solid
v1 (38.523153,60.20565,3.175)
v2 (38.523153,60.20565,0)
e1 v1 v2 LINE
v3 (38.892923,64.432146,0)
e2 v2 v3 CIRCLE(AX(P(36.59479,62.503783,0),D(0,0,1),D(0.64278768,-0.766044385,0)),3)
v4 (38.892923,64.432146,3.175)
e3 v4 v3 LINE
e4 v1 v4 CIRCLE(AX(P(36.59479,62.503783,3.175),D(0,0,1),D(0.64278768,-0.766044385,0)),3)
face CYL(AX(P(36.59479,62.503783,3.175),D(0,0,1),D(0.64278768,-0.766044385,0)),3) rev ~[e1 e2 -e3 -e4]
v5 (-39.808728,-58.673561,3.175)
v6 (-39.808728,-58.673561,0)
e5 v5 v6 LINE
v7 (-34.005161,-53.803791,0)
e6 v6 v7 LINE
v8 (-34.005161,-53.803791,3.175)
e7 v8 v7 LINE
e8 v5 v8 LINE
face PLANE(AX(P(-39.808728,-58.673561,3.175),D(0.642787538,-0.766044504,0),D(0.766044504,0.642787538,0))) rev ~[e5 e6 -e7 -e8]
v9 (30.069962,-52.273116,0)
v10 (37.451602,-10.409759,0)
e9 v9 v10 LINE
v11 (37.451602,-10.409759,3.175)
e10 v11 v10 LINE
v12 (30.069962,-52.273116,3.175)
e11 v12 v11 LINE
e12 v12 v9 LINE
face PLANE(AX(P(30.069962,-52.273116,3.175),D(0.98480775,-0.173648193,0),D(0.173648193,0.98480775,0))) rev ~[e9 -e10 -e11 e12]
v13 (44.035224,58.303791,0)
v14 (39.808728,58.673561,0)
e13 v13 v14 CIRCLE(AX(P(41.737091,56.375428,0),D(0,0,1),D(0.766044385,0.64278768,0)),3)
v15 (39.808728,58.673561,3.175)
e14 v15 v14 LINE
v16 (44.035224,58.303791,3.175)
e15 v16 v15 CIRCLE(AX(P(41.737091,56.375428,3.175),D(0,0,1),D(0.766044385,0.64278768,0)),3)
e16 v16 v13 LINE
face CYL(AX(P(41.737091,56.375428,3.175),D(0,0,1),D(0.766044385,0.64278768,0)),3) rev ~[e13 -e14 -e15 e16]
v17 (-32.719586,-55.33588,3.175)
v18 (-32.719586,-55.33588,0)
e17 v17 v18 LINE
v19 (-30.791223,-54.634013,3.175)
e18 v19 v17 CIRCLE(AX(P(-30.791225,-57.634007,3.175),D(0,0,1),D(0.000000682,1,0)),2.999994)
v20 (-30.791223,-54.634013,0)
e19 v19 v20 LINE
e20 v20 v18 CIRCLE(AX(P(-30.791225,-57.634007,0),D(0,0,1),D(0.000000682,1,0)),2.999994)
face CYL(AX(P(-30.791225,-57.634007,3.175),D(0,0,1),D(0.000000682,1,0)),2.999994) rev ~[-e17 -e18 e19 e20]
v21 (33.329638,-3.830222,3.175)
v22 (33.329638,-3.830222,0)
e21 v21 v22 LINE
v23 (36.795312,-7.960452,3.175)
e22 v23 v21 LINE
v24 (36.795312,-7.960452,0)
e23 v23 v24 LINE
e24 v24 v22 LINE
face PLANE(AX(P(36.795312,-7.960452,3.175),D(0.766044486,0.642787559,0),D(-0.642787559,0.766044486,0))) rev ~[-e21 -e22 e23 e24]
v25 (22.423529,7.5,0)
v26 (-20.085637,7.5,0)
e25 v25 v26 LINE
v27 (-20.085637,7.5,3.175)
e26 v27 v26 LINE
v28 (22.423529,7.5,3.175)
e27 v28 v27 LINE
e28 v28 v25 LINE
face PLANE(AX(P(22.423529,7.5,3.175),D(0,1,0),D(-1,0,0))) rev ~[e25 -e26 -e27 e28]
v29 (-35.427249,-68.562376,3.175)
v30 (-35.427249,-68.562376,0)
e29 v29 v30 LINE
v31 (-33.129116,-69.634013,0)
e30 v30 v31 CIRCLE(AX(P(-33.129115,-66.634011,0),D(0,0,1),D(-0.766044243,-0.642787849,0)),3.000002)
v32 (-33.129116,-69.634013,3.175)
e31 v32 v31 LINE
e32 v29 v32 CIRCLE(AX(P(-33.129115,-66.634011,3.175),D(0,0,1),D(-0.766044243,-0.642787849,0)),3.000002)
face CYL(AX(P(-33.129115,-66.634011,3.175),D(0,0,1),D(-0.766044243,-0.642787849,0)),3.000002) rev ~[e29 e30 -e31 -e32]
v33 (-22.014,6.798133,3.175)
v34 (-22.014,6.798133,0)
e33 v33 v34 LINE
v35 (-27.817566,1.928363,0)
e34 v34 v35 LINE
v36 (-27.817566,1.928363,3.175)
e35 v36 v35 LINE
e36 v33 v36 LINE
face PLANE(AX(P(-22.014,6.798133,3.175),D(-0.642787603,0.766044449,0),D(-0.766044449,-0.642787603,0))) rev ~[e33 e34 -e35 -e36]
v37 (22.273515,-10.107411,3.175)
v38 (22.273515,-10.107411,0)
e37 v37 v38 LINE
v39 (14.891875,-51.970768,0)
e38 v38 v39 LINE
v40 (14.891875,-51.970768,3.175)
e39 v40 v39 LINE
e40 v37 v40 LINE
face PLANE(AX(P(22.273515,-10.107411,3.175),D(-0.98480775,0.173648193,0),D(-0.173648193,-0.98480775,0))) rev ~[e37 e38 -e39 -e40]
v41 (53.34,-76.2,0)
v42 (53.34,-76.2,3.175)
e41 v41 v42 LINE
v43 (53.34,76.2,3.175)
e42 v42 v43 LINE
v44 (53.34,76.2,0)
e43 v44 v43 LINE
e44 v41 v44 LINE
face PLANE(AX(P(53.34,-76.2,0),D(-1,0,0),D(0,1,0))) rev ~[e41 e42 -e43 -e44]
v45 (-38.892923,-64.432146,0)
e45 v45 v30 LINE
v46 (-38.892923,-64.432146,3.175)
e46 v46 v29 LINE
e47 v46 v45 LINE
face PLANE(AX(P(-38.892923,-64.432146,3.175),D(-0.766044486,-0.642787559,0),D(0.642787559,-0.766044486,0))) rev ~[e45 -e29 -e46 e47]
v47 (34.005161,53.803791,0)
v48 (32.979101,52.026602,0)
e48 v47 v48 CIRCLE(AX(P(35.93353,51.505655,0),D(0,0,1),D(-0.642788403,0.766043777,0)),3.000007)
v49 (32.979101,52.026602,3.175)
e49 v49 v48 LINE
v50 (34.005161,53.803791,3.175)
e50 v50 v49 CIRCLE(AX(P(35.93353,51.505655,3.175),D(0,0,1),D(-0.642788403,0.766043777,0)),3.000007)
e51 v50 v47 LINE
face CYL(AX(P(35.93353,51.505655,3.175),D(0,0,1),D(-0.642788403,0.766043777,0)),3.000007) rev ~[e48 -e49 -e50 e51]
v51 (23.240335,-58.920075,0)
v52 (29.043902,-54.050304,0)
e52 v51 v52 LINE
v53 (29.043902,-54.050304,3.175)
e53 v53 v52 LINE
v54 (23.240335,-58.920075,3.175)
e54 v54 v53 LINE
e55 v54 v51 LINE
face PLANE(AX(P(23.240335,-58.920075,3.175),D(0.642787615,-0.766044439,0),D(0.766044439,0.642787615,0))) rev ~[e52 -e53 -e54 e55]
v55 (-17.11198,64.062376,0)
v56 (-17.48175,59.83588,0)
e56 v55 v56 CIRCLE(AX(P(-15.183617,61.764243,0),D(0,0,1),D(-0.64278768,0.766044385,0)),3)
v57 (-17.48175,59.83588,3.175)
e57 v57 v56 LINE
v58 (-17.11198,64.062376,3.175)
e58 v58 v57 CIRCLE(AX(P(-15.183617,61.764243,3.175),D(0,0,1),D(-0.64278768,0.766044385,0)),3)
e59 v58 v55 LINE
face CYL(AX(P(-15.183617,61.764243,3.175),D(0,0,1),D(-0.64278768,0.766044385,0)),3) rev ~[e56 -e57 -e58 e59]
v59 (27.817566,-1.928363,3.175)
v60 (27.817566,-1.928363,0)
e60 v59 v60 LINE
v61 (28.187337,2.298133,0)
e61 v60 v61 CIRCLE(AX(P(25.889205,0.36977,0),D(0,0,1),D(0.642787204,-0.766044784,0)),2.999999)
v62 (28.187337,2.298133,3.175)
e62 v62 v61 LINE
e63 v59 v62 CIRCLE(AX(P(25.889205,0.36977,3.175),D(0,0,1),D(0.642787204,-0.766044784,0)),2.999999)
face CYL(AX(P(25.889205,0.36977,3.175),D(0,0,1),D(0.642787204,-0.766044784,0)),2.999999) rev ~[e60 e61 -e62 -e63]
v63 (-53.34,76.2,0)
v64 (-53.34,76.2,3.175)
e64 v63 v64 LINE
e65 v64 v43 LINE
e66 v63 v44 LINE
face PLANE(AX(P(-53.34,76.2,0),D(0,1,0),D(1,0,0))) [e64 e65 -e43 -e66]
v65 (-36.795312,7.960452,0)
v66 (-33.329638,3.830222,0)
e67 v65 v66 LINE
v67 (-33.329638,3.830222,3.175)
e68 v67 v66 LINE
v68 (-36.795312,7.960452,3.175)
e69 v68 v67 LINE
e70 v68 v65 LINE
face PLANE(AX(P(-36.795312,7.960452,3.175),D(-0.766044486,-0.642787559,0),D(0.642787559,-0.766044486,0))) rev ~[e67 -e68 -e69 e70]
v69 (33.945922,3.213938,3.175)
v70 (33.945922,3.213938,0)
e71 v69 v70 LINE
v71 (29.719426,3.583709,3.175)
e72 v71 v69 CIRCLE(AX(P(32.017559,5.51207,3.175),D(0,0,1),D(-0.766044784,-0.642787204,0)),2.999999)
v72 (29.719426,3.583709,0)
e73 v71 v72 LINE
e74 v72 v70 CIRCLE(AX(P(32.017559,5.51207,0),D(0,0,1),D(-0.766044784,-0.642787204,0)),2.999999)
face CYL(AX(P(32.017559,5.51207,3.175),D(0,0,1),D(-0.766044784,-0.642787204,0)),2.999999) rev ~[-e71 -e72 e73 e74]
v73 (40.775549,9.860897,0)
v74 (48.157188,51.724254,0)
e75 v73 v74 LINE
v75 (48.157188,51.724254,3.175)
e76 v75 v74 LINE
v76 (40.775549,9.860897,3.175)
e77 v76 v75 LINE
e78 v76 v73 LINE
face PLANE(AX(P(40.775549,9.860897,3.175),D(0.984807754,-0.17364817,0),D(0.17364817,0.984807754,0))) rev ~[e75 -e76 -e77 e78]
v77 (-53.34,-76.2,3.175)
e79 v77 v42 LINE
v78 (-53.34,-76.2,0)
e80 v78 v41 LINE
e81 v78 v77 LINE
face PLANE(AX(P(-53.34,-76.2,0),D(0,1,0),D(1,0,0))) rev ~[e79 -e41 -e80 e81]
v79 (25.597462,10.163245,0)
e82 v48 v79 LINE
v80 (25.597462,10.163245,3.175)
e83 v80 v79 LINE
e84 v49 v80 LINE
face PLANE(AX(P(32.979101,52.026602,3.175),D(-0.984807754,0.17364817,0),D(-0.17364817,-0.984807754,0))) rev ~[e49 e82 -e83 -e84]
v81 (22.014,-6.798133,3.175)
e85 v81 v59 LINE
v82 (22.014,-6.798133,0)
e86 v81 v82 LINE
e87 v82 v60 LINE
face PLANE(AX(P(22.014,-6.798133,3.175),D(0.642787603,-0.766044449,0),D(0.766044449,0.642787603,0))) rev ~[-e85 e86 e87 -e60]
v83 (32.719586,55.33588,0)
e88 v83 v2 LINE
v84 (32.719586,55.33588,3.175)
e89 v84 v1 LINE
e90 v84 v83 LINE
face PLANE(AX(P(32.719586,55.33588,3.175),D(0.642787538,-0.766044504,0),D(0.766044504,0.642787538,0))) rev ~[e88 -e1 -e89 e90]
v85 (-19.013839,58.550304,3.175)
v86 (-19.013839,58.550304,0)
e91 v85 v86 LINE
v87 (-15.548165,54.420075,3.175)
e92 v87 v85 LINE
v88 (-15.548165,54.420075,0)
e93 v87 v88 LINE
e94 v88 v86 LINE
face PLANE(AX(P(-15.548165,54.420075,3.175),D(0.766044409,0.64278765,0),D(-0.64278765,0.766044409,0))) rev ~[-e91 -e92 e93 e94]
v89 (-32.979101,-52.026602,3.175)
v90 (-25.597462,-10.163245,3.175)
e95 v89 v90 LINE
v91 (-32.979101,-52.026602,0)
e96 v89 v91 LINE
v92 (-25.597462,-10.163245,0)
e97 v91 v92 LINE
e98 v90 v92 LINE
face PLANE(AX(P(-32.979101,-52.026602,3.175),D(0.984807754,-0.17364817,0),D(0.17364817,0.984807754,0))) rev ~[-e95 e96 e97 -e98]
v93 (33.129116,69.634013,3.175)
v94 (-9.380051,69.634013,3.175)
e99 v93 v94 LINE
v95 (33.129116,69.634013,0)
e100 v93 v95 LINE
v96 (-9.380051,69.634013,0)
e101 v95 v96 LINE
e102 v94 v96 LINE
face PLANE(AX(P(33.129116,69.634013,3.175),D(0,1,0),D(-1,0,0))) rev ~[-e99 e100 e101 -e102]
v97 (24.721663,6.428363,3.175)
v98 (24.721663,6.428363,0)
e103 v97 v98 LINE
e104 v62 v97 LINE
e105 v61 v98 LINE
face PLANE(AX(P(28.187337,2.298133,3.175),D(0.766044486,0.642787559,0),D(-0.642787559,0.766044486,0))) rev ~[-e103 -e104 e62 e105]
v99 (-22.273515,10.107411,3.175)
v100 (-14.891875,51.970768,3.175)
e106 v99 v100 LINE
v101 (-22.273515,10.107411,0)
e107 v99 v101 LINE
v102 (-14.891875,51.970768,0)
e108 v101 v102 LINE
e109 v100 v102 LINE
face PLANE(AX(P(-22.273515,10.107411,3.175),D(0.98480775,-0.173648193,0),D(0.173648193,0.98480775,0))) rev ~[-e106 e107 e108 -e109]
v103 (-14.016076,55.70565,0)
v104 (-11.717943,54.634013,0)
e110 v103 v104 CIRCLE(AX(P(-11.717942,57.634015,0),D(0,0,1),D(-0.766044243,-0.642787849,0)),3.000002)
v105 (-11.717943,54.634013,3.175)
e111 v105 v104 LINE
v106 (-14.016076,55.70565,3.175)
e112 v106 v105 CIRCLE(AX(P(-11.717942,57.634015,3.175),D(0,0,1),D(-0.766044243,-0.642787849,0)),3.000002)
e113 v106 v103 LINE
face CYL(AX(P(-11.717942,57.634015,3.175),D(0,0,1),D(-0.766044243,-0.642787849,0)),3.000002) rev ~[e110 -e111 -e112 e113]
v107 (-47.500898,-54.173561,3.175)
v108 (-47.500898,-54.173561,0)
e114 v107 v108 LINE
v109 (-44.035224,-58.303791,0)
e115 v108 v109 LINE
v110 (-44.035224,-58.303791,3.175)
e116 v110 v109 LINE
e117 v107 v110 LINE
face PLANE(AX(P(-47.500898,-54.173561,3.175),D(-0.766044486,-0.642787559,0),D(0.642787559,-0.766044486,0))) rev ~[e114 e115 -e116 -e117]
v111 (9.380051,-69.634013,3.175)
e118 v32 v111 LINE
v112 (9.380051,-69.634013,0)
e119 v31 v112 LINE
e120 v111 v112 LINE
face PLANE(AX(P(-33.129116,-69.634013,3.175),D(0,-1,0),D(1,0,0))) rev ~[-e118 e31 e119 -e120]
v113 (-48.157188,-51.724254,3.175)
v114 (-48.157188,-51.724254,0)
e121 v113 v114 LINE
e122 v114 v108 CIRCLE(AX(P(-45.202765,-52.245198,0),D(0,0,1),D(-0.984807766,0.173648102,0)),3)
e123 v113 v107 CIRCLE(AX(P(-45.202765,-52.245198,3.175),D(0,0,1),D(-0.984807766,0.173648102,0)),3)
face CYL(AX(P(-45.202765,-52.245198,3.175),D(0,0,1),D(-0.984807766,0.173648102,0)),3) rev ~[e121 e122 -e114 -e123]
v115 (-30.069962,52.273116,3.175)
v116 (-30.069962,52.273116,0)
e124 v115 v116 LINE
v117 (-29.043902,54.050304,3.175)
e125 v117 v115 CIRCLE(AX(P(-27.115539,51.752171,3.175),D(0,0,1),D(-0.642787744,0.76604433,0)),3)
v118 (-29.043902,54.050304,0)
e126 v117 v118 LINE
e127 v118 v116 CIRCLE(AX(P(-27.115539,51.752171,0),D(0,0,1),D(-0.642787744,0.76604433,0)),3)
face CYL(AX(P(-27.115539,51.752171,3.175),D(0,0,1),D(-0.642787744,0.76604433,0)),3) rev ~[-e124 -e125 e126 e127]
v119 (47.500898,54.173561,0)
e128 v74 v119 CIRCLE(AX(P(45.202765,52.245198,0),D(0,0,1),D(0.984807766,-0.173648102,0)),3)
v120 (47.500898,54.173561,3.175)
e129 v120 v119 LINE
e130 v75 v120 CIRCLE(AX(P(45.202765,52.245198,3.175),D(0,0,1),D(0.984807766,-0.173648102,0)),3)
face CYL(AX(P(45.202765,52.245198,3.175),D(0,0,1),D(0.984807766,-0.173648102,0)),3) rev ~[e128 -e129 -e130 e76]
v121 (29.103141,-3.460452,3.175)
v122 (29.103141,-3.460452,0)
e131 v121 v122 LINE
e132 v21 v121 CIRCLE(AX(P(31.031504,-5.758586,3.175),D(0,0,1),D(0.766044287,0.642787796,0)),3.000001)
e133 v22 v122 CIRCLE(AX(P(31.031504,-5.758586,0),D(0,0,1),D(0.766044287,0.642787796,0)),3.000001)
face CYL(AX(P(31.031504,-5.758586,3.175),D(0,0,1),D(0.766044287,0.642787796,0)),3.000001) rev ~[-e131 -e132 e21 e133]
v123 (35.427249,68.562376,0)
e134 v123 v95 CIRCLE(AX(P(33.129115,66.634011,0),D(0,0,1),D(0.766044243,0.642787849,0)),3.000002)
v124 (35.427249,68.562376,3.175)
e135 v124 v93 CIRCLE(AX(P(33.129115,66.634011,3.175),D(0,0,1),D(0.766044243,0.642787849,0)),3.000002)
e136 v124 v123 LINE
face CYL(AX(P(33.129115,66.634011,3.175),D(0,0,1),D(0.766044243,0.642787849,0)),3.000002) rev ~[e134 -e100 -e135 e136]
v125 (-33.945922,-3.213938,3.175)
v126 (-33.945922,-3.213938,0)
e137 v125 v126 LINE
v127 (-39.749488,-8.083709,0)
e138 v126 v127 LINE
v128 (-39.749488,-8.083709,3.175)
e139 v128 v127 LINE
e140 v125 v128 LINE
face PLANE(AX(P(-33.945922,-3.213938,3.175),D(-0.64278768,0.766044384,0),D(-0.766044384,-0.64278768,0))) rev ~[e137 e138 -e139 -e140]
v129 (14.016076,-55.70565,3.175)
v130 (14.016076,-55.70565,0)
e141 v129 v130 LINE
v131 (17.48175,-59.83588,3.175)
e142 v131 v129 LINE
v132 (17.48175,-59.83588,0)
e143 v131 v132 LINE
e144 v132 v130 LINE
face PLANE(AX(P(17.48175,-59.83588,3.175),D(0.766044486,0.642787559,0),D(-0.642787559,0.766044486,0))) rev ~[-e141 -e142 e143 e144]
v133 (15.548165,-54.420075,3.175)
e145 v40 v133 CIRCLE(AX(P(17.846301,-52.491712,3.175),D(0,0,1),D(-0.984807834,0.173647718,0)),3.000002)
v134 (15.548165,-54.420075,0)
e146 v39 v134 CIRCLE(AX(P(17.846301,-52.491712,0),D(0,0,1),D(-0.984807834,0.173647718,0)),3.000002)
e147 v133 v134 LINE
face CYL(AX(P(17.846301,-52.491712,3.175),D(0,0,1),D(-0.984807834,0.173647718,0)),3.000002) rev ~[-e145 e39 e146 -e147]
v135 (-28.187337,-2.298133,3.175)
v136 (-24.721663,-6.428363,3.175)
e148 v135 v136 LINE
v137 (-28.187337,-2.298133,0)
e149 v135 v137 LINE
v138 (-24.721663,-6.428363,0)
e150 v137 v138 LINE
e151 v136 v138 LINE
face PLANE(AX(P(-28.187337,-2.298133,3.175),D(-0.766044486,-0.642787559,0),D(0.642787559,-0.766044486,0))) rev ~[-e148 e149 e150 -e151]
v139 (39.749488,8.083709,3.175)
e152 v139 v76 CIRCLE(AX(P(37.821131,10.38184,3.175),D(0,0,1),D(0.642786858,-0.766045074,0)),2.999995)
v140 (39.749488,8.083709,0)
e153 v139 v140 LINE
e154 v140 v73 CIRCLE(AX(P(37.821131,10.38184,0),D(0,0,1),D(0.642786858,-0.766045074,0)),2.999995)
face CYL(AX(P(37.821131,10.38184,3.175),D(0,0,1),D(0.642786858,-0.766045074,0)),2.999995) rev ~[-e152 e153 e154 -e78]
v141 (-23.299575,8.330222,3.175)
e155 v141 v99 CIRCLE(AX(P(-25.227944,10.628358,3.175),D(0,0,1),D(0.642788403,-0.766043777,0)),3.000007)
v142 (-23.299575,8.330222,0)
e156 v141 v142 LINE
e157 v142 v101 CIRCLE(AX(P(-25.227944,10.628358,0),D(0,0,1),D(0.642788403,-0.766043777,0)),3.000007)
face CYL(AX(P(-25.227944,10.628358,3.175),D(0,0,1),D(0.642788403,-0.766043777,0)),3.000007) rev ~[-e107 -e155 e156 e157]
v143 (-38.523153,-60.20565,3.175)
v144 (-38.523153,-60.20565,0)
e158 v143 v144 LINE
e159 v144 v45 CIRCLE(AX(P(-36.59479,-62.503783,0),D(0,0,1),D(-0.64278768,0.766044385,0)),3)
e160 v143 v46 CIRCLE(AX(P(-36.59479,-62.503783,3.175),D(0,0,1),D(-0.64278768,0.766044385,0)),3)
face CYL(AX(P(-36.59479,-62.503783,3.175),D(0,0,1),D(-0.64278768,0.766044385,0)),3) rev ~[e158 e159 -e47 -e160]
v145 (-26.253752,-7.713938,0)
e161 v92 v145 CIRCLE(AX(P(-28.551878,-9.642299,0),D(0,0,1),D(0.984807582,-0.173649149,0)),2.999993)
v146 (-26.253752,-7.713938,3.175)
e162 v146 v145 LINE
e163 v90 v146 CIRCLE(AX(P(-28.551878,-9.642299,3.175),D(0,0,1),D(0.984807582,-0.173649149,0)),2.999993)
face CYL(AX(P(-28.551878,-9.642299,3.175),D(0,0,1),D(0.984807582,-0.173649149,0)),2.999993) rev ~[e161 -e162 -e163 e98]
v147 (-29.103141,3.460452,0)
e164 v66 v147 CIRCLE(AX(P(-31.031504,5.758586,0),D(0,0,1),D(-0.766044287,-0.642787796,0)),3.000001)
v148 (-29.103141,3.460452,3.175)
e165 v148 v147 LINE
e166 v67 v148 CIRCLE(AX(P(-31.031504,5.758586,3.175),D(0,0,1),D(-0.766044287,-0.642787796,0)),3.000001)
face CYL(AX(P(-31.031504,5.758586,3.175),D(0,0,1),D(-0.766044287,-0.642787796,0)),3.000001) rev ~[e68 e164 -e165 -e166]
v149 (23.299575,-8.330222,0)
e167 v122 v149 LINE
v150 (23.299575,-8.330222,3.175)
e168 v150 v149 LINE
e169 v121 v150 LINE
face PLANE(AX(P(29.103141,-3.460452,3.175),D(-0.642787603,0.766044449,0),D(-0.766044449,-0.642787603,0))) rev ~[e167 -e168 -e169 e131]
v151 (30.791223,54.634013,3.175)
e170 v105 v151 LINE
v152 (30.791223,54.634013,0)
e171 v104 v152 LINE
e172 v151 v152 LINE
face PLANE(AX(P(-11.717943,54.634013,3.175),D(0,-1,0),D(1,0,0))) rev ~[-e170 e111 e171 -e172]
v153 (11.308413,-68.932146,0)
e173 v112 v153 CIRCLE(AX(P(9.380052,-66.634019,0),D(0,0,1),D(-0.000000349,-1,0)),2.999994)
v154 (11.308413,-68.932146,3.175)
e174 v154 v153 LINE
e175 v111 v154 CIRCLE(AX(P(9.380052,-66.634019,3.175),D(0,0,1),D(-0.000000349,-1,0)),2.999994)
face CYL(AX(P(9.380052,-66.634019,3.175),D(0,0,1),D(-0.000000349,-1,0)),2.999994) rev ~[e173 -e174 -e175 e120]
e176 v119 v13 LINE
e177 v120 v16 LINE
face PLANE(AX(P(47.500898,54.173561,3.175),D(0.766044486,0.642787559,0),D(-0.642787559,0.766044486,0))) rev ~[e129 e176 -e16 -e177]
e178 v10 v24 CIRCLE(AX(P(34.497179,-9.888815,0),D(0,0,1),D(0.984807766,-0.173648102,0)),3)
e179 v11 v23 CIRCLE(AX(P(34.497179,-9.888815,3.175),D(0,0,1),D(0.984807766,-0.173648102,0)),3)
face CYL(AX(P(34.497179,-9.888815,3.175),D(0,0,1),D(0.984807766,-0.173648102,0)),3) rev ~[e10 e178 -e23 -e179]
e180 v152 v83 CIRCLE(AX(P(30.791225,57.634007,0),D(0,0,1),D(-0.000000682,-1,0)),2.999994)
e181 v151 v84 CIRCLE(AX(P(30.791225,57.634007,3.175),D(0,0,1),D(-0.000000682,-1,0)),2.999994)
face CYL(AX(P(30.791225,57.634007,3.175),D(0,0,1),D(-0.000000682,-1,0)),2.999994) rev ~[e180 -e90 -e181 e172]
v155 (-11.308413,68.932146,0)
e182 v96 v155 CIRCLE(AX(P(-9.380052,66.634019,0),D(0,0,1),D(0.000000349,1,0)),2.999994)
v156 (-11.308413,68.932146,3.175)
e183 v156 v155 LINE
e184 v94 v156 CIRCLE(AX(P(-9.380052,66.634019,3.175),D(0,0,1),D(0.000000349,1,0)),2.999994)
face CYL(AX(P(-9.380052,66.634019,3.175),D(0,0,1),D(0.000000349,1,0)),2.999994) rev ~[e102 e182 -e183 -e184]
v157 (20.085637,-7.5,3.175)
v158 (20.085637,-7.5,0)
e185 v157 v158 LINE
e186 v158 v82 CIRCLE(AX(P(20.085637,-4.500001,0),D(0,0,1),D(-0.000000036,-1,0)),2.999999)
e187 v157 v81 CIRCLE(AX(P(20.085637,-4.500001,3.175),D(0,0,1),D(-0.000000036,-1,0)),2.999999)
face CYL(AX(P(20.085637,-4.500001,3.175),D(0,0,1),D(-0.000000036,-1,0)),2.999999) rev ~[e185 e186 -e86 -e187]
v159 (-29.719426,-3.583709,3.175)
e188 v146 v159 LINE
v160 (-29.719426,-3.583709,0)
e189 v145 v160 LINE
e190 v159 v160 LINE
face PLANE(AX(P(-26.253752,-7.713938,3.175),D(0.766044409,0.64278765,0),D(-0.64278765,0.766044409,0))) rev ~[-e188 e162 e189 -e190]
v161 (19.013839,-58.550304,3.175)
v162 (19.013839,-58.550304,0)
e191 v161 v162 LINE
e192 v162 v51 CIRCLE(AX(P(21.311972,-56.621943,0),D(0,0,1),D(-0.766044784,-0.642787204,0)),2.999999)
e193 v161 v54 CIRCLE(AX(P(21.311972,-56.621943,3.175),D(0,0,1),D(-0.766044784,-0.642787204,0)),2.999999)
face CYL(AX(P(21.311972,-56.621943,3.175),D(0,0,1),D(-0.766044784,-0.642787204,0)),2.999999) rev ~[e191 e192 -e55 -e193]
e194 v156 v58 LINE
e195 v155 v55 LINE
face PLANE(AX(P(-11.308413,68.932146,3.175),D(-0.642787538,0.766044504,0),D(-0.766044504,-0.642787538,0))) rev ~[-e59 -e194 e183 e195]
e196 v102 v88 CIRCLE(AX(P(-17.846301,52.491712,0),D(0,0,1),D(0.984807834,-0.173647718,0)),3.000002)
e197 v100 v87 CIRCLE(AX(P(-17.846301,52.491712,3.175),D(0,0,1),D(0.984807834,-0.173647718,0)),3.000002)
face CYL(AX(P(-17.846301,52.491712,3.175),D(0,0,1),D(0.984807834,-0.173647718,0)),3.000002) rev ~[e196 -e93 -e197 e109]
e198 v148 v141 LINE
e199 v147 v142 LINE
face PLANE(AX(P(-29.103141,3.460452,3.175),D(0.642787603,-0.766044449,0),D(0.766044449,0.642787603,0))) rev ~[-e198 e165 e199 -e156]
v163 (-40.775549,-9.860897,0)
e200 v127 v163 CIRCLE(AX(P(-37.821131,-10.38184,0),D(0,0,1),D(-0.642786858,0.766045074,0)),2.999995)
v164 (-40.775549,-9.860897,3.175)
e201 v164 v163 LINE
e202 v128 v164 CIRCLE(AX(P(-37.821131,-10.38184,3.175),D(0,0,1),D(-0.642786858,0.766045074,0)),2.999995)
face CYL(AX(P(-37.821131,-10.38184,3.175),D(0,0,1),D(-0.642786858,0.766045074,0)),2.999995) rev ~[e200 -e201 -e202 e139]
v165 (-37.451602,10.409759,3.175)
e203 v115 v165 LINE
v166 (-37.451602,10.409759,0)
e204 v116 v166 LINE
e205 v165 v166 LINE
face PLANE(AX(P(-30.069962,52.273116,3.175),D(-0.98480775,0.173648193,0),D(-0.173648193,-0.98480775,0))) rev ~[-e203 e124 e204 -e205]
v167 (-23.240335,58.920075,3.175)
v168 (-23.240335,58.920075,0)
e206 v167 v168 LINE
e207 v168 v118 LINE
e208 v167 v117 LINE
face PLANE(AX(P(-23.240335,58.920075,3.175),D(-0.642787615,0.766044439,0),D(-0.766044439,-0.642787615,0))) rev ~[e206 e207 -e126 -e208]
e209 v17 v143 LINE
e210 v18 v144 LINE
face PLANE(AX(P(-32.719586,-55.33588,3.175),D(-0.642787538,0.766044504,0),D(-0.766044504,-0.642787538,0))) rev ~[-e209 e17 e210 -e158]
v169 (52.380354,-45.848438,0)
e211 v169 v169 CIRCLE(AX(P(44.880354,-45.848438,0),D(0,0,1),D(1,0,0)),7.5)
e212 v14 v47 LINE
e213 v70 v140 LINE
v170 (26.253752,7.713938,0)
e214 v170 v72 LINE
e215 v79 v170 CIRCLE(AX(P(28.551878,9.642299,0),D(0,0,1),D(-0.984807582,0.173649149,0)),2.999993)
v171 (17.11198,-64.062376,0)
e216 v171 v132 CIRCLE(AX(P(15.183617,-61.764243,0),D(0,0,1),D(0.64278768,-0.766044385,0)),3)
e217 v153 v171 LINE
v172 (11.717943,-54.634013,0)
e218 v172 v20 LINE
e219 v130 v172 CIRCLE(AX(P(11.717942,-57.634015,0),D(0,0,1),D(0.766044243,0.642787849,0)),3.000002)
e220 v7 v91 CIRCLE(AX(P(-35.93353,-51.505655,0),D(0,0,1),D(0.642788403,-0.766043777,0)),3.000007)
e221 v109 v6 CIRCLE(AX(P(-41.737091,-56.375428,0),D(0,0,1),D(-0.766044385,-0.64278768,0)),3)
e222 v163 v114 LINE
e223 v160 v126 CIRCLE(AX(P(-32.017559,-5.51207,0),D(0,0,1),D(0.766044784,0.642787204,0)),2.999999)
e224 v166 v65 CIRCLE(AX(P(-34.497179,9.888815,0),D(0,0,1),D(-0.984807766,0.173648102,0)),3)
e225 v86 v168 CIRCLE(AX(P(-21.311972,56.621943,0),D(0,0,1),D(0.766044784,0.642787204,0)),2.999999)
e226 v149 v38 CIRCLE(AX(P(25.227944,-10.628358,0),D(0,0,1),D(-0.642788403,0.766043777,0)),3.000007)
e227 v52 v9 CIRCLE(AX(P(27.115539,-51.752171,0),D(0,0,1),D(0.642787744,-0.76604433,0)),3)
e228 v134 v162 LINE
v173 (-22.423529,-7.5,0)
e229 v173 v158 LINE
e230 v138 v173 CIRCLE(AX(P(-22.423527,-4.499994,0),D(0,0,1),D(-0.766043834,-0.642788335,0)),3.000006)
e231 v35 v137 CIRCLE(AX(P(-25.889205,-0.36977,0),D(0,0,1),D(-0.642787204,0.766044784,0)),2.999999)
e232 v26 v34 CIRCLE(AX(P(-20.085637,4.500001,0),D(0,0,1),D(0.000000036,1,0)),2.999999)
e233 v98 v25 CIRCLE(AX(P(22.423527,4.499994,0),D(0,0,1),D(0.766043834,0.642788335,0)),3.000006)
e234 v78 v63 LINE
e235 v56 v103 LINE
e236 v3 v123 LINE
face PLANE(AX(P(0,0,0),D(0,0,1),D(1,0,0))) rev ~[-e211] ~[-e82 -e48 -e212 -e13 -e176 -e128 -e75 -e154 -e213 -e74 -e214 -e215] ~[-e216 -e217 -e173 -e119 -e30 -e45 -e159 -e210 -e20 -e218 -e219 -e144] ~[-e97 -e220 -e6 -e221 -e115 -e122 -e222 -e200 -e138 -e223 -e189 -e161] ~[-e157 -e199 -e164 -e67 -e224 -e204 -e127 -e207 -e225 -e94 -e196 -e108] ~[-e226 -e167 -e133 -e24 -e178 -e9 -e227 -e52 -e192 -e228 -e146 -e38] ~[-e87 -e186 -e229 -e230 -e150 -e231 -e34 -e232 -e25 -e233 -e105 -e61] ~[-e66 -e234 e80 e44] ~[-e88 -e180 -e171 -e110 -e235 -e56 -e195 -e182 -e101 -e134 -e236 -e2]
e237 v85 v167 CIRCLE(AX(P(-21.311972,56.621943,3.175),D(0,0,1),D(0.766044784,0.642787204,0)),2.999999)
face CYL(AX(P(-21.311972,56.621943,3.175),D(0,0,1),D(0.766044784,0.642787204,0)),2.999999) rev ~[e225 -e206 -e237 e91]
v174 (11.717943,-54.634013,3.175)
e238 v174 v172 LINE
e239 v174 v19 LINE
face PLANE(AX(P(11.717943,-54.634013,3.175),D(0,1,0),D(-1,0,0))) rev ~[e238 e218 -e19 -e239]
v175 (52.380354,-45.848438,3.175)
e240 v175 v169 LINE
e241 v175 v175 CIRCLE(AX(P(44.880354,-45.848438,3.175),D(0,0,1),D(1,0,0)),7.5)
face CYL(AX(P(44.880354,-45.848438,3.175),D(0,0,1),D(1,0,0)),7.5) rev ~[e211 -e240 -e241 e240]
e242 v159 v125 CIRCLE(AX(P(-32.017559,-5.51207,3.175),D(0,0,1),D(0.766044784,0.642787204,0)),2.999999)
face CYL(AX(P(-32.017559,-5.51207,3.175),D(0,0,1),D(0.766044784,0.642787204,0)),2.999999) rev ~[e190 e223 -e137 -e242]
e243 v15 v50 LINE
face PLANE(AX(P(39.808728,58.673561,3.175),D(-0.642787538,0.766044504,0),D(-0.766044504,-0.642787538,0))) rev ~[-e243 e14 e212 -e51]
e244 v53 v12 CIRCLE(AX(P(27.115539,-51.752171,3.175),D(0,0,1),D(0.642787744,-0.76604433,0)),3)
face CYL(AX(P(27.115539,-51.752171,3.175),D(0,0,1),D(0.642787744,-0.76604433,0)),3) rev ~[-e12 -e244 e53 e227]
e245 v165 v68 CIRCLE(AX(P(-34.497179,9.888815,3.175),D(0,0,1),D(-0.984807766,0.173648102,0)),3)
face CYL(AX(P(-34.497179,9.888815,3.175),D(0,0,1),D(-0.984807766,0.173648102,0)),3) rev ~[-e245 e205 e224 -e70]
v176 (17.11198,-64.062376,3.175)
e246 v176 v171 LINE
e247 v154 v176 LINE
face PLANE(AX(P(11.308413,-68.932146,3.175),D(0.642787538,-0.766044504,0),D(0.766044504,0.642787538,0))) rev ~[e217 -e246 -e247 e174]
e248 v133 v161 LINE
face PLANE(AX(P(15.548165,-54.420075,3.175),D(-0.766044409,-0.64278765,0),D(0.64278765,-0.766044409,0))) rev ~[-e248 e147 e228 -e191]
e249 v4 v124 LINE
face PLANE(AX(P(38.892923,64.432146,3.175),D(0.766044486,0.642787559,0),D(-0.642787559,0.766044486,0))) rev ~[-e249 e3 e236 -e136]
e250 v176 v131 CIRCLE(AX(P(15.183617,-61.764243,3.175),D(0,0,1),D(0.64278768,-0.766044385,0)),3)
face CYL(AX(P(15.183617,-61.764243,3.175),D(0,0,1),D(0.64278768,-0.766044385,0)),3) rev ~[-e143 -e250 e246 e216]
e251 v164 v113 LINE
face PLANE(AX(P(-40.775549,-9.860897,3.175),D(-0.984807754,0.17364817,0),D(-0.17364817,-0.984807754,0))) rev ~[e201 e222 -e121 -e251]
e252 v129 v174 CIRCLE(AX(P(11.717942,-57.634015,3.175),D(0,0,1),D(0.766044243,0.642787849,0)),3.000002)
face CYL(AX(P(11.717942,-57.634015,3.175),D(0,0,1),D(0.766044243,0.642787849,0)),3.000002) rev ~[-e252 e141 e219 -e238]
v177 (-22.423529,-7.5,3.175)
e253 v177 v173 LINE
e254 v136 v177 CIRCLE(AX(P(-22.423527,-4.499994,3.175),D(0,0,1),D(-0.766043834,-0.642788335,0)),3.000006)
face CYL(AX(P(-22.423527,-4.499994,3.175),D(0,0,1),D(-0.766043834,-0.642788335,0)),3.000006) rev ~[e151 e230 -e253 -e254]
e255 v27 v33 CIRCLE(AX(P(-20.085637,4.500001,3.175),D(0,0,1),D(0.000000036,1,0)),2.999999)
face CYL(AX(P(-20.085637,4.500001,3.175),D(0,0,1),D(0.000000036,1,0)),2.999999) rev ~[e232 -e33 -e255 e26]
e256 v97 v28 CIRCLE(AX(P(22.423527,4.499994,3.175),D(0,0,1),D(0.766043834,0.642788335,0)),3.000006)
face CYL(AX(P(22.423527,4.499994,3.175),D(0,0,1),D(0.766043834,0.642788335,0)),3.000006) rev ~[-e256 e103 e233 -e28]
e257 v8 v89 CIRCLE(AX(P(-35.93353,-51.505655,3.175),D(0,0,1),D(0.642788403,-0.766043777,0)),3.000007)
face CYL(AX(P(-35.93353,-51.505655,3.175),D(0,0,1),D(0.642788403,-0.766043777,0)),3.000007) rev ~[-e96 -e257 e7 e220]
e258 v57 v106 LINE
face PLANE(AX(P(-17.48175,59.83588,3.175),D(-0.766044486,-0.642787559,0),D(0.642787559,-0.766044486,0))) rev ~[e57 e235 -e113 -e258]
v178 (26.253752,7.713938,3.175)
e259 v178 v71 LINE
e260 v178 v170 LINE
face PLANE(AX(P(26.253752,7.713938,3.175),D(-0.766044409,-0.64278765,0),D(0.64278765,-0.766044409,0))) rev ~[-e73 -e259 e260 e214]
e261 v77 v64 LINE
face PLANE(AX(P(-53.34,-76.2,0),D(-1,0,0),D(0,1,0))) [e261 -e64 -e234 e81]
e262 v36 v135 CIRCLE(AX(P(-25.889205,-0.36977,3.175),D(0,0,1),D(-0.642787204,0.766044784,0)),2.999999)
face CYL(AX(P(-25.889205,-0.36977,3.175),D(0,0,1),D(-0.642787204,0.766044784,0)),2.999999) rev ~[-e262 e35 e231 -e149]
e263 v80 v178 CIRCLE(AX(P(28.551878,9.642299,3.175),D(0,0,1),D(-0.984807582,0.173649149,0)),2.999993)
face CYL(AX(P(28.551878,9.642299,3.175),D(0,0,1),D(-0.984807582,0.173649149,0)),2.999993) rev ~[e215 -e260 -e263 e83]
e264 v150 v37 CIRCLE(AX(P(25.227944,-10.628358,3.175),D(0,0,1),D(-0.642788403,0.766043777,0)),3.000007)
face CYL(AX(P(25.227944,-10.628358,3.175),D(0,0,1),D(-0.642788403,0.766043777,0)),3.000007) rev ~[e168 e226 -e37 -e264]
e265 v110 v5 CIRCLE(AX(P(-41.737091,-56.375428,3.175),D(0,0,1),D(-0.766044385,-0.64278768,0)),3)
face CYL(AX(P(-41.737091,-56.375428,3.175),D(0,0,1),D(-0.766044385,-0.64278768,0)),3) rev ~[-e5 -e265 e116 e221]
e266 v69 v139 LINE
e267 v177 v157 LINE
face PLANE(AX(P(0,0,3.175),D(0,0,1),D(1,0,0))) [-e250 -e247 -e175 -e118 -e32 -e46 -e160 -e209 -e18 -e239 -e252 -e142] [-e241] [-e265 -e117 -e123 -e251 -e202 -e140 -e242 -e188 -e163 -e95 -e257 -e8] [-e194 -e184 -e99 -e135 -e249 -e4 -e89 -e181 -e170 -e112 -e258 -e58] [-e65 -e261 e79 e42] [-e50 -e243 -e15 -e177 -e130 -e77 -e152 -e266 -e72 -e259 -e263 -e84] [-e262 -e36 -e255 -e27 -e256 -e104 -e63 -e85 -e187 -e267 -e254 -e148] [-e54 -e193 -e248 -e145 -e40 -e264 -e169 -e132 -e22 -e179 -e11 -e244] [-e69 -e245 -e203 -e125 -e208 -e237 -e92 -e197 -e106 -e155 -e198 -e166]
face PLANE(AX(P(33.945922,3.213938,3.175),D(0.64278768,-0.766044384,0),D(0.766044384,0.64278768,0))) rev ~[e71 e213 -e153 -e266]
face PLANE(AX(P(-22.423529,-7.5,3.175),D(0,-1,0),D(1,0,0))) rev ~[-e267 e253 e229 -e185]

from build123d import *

# Parameters (mm, degrees)
F0_W     = 106.68
F0_H     = 152.4
F1_DEPTH = 3.175
F2_R     = 7.5
F3_DEPTH = 3.176


with BuildPart() as f1:
    # F0 (on Top) → F1 (new body)
    with BuildSketch(Plane.XY):
        Rectangle(F0_W, F0_H)
    extrude(amount=F1_DEPTH)

    # F2 (on face) → F3 (cut, through all)
    with BuildSketch(Plane.XY.offset(3.175)):
        with BuildLine():
            Line((-32.719586, -55.33588), (-38.523153, -60.20565))
            ThreePointArc((-38.523153, -60.20565), (-39.583374, -62.242316), (-38.892923, -64.432146))
            Line((-38.892923, -64.432146), (-35.427249, -68.562376))
            ThreePointArc((-35.427249, -68.562376), (-34.396971, -69.352936), (-33.129116, -69.634013))
            Line((-33.129116, -69.634013), (9.380051, -69.634013))
            ThreePointArc((9.380051, -69.634013), (10.406111, -69.453091), (11.308413, -68.932146))
            Line((11.308413, -68.932146), (17.11198, -64.062376))
            ThreePointArc((17.11198, -64.062376), (18.172201, -62.02571), (17.48175, -59.83588))
            Line((17.48175, -59.83588), (14.016076, -55.70565))
            ThreePointArc((14.016076, -55.70565), (12.985798, -54.91509), (11.717943, -54.634013))
            Line((11.717943, -54.634013), (-30.791223, -54.634013))
            ThreePointArc((-30.791223, -54.634013), (-31.817284, -54.814935), (-32.719586, -55.33588))
        make_face()
        with BuildLine():
            ThreePointArc((-44.035224, -58.303791), (-41.998558, -59.364012), (-39.808728, -58.673561))
            Line((-39.808728, -58.673561), (-34.005161, -53.803791))
            ThreePointArc((-34.005161, -53.803791), (-33.335448, -53.005657), (-32.979101, -52.026602))
            Line((-32.979101, -52.026602), (-25.597462, -10.163245))
            ThreePointArc((-25.597462, -10.163245), (-25.654107, -8.865844), (-26.253752, -7.713938))
            Line((-26.253752, -7.713938), (-29.719426, -3.583709))
            ThreePointArc((-29.719426, -3.583709), (-31.756092, -2.523487), (-33.945922, -3.213938))
            Line((-33.945922, -3.213938), (-39.749488, -8.083709))
            ThreePointArc((-39.749488, -8.083709), (-40.419202, -8.881842), (-40.775549, -9.860897))
            Line((-40.775549, -9.860897), (-48.157188, -51.724254))
            ThreePointArc((-48.157188, -51.724254), (-48.100542, -53.021656), (-47.500898, -54.173561))
            Line((-47.500898, -54.173561), (-44.035224, -58.303791))
        make_face()
        with BuildLine():
            ThreePointArc((14.891875, -51.970768), (14.948521, -53.268169), (15.548165, -54.420075))
            Line((15.548165, -54.420075), (19.013839, -58.550304))
            ThreePointArc((19.013839, -58.550304), (21.050505, -59.610526), (23.240335, -58.920075))
            Line((23.240335, -58.920075), (29.043902, -54.050304))
            ThreePointArc((29.043902, -54.050304), (29.713615, -53.252171), (30.069962, -52.273116))
            Line((30.069962, -52.273116), (37.451602, -10.409759))
            ThreePointArc((37.451602, -10.409759), (37.394956, -9.112357), (36.795312, -7.960452))
            Line((36.795312, -7.960452), (33.329638, -3.830222))
            ThreePointArc((33.329638, -3.830222), (31.292972, -2.770001), (29.103141, -3.460452))
            Line((29.103141, -3.460452), (23.299575, -8.330222))
            ThreePointArc((23.299575, -8.330222), (22.629862, -9.128356), (22.273515, -10.107411))
            Line((22.273515, -10.107411), (14.891875, -51.970768))
        make_face()
        with BuildLine():
            ThreePointArc((-27.817566, 1.928363), (-28.877788, -0.108303), (-28.187337, -2.298133))
            Line((-28.187337, -2.298133), (-24.721663, -6.428363))
            ThreePointArc((-24.721663, -6.428363), (-23.691384, -7.218923), (-22.423529, -7.5))
            Line((-22.423529, -7.5), (20.085637, -7.5))
            ThreePointArc((20.085637, -7.5), (21.111697, -7.319078), (22.014, -6.798133))
            Line((22.014, -6.798133), (27.817566, -1.928363))
            ThreePointArc((27.817566, -1.928363), (28.877788, 0.108303), (28.187337, 2.298133))
            Line((28.187337, 2.298133), (24.721663, 6.428363))
            ThreePointArc((24.721663, 6.428363), (23.691384, 7.218923), (22.423529, 7.5))
            Line((22.423529, 7.5), (-20.085637, 7.5))
            ThreePointArc((-20.085637, 7.5), (-21.111697, 7.319078), (-22.014, 6.798133))
            Line((-22.014, 6.798133), (-27.817566, 1.928363))
        make_face()
        with BuildLine():
            ThreePointArc((-33.329638, 3.830222), (-31.292972, 2.770001), (-29.103141, 3.460452))
            Line((-29.103141, 3.460452), (-23.299575, 8.330222))
            ThreePointArc((-23.299575, 8.330222), (-22.629862, 9.128356), (-22.273515, 10.107411))
            Line((-22.273515, 10.107411), (-14.891875, 51.970768))
            ThreePointArc((-14.891875, 51.970768), (-14.948521, 53.268169), (-15.548165, 54.420075))
            Line((-15.548165, 54.420075), (-19.013839, 58.550304))
            ThreePointArc((-19.013839, 58.550304), (-21.050505, 59.610526), (-23.240335, 58.920075))
            Line((-23.240335, 58.920075), (-29.043902, 54.050304))
            ThreePointArc((-29.043902, 54.050304), (-29.713615, 53.252171), (-30.069962, 52.273116))
            Line((-30.069962, 52.273116), (-37.451602, 10.409759))
            ThreePointArc((-37.451602, 10.409759), (-37.394956, 9.112357), (-36.795312, 7.960452))
            Line((-36.795312, 7.960452), (-33.329638, 3.830222))
        make_face()
        with BuildLine():
            ThreePointArc((25.597462, 10.163245), (25.654107, 8.865844), (26.253752, 7.713938))
            Line((26.253752, 7.713938), (29.719426, 3.583709))
            ThreePointArc((29.719426, 3.583709), (31.756092, 2.523487), (33.945922, 3.213938))
            Line((33.945922, 3.213938), (39.749488, 8.083709))
            ThreePointArc((39.749488, 8.083709), (40.419202, 8.881842), (40.775549, 9.860897))
            Line((40.775549, 9.860897), (48.157188, 51.724254))
            ThreePointArc((48.157188, 51.724254), (48.100542, 53.021656), (47.500898, 54.173561))
            Line((47.500898, 54.173561), (44.035224, 58.303791))
            ThreePointArc((44.035224, 58.303791), (41.998558, 59.364012), (39.808728, 58.673561))
            Line((39.808728, 58.673561), (34.005161, 53.803791))
            ThreePointArc((34.005161, 53.803791), (33.335448, 53.005657), (32.979101, 52.026602))
            Line((32.979101, 52.026602), (25.597462, 10.163245))
        make_face()
        with BuildLine():
            ThreePointArc((-17.11198, 64.062376), (-18.172201, 62.02571), (-17.48175, 59.83588))
            Line((-17.48175, 59.83588), (-14.016076, 55.70565))
            ThreePointArc((-14.016076, 55.70565), (-12.985798, 54.91509), (-11.717943, 54.634013))
            Line((-11.717943, 54.634013), (30.791223, 54.634013))
            ThreePointArc((30.791223, 54.634013), (31.817284, 54.814935), (32.719586, 55.33588))
            Line((32.719586, 55.33588), (38.523153, 60.20565))
            ThreePointArc((38.523153, 60.20565), (39.583374, 62.242316), (38.892923, 64.432146))
            Line((38.892923, 64.432146), (35.427249, 68.562376))
            ThreePointArc((35.427249, 68.562376), (34.396971, 69.352936), (33.129116, 69.634013))
            Line((33.129116, 69.634013), (-9.380051, 69.634013))
            ThreePointArc((-9.380051, 69.634013), (-10.406111, 69.453091), (-11.308413, 68.932146))
            Line((-11.308413, 68.932146), (-17.11198, 64.062376))
        make_face()
        with Locations((44.880354, -45.848438)):
            Circle(F2_R)
    extrude(amount=-F3_DEPTH, mode=Mode.SUBTRACT)


solid = f1.part
